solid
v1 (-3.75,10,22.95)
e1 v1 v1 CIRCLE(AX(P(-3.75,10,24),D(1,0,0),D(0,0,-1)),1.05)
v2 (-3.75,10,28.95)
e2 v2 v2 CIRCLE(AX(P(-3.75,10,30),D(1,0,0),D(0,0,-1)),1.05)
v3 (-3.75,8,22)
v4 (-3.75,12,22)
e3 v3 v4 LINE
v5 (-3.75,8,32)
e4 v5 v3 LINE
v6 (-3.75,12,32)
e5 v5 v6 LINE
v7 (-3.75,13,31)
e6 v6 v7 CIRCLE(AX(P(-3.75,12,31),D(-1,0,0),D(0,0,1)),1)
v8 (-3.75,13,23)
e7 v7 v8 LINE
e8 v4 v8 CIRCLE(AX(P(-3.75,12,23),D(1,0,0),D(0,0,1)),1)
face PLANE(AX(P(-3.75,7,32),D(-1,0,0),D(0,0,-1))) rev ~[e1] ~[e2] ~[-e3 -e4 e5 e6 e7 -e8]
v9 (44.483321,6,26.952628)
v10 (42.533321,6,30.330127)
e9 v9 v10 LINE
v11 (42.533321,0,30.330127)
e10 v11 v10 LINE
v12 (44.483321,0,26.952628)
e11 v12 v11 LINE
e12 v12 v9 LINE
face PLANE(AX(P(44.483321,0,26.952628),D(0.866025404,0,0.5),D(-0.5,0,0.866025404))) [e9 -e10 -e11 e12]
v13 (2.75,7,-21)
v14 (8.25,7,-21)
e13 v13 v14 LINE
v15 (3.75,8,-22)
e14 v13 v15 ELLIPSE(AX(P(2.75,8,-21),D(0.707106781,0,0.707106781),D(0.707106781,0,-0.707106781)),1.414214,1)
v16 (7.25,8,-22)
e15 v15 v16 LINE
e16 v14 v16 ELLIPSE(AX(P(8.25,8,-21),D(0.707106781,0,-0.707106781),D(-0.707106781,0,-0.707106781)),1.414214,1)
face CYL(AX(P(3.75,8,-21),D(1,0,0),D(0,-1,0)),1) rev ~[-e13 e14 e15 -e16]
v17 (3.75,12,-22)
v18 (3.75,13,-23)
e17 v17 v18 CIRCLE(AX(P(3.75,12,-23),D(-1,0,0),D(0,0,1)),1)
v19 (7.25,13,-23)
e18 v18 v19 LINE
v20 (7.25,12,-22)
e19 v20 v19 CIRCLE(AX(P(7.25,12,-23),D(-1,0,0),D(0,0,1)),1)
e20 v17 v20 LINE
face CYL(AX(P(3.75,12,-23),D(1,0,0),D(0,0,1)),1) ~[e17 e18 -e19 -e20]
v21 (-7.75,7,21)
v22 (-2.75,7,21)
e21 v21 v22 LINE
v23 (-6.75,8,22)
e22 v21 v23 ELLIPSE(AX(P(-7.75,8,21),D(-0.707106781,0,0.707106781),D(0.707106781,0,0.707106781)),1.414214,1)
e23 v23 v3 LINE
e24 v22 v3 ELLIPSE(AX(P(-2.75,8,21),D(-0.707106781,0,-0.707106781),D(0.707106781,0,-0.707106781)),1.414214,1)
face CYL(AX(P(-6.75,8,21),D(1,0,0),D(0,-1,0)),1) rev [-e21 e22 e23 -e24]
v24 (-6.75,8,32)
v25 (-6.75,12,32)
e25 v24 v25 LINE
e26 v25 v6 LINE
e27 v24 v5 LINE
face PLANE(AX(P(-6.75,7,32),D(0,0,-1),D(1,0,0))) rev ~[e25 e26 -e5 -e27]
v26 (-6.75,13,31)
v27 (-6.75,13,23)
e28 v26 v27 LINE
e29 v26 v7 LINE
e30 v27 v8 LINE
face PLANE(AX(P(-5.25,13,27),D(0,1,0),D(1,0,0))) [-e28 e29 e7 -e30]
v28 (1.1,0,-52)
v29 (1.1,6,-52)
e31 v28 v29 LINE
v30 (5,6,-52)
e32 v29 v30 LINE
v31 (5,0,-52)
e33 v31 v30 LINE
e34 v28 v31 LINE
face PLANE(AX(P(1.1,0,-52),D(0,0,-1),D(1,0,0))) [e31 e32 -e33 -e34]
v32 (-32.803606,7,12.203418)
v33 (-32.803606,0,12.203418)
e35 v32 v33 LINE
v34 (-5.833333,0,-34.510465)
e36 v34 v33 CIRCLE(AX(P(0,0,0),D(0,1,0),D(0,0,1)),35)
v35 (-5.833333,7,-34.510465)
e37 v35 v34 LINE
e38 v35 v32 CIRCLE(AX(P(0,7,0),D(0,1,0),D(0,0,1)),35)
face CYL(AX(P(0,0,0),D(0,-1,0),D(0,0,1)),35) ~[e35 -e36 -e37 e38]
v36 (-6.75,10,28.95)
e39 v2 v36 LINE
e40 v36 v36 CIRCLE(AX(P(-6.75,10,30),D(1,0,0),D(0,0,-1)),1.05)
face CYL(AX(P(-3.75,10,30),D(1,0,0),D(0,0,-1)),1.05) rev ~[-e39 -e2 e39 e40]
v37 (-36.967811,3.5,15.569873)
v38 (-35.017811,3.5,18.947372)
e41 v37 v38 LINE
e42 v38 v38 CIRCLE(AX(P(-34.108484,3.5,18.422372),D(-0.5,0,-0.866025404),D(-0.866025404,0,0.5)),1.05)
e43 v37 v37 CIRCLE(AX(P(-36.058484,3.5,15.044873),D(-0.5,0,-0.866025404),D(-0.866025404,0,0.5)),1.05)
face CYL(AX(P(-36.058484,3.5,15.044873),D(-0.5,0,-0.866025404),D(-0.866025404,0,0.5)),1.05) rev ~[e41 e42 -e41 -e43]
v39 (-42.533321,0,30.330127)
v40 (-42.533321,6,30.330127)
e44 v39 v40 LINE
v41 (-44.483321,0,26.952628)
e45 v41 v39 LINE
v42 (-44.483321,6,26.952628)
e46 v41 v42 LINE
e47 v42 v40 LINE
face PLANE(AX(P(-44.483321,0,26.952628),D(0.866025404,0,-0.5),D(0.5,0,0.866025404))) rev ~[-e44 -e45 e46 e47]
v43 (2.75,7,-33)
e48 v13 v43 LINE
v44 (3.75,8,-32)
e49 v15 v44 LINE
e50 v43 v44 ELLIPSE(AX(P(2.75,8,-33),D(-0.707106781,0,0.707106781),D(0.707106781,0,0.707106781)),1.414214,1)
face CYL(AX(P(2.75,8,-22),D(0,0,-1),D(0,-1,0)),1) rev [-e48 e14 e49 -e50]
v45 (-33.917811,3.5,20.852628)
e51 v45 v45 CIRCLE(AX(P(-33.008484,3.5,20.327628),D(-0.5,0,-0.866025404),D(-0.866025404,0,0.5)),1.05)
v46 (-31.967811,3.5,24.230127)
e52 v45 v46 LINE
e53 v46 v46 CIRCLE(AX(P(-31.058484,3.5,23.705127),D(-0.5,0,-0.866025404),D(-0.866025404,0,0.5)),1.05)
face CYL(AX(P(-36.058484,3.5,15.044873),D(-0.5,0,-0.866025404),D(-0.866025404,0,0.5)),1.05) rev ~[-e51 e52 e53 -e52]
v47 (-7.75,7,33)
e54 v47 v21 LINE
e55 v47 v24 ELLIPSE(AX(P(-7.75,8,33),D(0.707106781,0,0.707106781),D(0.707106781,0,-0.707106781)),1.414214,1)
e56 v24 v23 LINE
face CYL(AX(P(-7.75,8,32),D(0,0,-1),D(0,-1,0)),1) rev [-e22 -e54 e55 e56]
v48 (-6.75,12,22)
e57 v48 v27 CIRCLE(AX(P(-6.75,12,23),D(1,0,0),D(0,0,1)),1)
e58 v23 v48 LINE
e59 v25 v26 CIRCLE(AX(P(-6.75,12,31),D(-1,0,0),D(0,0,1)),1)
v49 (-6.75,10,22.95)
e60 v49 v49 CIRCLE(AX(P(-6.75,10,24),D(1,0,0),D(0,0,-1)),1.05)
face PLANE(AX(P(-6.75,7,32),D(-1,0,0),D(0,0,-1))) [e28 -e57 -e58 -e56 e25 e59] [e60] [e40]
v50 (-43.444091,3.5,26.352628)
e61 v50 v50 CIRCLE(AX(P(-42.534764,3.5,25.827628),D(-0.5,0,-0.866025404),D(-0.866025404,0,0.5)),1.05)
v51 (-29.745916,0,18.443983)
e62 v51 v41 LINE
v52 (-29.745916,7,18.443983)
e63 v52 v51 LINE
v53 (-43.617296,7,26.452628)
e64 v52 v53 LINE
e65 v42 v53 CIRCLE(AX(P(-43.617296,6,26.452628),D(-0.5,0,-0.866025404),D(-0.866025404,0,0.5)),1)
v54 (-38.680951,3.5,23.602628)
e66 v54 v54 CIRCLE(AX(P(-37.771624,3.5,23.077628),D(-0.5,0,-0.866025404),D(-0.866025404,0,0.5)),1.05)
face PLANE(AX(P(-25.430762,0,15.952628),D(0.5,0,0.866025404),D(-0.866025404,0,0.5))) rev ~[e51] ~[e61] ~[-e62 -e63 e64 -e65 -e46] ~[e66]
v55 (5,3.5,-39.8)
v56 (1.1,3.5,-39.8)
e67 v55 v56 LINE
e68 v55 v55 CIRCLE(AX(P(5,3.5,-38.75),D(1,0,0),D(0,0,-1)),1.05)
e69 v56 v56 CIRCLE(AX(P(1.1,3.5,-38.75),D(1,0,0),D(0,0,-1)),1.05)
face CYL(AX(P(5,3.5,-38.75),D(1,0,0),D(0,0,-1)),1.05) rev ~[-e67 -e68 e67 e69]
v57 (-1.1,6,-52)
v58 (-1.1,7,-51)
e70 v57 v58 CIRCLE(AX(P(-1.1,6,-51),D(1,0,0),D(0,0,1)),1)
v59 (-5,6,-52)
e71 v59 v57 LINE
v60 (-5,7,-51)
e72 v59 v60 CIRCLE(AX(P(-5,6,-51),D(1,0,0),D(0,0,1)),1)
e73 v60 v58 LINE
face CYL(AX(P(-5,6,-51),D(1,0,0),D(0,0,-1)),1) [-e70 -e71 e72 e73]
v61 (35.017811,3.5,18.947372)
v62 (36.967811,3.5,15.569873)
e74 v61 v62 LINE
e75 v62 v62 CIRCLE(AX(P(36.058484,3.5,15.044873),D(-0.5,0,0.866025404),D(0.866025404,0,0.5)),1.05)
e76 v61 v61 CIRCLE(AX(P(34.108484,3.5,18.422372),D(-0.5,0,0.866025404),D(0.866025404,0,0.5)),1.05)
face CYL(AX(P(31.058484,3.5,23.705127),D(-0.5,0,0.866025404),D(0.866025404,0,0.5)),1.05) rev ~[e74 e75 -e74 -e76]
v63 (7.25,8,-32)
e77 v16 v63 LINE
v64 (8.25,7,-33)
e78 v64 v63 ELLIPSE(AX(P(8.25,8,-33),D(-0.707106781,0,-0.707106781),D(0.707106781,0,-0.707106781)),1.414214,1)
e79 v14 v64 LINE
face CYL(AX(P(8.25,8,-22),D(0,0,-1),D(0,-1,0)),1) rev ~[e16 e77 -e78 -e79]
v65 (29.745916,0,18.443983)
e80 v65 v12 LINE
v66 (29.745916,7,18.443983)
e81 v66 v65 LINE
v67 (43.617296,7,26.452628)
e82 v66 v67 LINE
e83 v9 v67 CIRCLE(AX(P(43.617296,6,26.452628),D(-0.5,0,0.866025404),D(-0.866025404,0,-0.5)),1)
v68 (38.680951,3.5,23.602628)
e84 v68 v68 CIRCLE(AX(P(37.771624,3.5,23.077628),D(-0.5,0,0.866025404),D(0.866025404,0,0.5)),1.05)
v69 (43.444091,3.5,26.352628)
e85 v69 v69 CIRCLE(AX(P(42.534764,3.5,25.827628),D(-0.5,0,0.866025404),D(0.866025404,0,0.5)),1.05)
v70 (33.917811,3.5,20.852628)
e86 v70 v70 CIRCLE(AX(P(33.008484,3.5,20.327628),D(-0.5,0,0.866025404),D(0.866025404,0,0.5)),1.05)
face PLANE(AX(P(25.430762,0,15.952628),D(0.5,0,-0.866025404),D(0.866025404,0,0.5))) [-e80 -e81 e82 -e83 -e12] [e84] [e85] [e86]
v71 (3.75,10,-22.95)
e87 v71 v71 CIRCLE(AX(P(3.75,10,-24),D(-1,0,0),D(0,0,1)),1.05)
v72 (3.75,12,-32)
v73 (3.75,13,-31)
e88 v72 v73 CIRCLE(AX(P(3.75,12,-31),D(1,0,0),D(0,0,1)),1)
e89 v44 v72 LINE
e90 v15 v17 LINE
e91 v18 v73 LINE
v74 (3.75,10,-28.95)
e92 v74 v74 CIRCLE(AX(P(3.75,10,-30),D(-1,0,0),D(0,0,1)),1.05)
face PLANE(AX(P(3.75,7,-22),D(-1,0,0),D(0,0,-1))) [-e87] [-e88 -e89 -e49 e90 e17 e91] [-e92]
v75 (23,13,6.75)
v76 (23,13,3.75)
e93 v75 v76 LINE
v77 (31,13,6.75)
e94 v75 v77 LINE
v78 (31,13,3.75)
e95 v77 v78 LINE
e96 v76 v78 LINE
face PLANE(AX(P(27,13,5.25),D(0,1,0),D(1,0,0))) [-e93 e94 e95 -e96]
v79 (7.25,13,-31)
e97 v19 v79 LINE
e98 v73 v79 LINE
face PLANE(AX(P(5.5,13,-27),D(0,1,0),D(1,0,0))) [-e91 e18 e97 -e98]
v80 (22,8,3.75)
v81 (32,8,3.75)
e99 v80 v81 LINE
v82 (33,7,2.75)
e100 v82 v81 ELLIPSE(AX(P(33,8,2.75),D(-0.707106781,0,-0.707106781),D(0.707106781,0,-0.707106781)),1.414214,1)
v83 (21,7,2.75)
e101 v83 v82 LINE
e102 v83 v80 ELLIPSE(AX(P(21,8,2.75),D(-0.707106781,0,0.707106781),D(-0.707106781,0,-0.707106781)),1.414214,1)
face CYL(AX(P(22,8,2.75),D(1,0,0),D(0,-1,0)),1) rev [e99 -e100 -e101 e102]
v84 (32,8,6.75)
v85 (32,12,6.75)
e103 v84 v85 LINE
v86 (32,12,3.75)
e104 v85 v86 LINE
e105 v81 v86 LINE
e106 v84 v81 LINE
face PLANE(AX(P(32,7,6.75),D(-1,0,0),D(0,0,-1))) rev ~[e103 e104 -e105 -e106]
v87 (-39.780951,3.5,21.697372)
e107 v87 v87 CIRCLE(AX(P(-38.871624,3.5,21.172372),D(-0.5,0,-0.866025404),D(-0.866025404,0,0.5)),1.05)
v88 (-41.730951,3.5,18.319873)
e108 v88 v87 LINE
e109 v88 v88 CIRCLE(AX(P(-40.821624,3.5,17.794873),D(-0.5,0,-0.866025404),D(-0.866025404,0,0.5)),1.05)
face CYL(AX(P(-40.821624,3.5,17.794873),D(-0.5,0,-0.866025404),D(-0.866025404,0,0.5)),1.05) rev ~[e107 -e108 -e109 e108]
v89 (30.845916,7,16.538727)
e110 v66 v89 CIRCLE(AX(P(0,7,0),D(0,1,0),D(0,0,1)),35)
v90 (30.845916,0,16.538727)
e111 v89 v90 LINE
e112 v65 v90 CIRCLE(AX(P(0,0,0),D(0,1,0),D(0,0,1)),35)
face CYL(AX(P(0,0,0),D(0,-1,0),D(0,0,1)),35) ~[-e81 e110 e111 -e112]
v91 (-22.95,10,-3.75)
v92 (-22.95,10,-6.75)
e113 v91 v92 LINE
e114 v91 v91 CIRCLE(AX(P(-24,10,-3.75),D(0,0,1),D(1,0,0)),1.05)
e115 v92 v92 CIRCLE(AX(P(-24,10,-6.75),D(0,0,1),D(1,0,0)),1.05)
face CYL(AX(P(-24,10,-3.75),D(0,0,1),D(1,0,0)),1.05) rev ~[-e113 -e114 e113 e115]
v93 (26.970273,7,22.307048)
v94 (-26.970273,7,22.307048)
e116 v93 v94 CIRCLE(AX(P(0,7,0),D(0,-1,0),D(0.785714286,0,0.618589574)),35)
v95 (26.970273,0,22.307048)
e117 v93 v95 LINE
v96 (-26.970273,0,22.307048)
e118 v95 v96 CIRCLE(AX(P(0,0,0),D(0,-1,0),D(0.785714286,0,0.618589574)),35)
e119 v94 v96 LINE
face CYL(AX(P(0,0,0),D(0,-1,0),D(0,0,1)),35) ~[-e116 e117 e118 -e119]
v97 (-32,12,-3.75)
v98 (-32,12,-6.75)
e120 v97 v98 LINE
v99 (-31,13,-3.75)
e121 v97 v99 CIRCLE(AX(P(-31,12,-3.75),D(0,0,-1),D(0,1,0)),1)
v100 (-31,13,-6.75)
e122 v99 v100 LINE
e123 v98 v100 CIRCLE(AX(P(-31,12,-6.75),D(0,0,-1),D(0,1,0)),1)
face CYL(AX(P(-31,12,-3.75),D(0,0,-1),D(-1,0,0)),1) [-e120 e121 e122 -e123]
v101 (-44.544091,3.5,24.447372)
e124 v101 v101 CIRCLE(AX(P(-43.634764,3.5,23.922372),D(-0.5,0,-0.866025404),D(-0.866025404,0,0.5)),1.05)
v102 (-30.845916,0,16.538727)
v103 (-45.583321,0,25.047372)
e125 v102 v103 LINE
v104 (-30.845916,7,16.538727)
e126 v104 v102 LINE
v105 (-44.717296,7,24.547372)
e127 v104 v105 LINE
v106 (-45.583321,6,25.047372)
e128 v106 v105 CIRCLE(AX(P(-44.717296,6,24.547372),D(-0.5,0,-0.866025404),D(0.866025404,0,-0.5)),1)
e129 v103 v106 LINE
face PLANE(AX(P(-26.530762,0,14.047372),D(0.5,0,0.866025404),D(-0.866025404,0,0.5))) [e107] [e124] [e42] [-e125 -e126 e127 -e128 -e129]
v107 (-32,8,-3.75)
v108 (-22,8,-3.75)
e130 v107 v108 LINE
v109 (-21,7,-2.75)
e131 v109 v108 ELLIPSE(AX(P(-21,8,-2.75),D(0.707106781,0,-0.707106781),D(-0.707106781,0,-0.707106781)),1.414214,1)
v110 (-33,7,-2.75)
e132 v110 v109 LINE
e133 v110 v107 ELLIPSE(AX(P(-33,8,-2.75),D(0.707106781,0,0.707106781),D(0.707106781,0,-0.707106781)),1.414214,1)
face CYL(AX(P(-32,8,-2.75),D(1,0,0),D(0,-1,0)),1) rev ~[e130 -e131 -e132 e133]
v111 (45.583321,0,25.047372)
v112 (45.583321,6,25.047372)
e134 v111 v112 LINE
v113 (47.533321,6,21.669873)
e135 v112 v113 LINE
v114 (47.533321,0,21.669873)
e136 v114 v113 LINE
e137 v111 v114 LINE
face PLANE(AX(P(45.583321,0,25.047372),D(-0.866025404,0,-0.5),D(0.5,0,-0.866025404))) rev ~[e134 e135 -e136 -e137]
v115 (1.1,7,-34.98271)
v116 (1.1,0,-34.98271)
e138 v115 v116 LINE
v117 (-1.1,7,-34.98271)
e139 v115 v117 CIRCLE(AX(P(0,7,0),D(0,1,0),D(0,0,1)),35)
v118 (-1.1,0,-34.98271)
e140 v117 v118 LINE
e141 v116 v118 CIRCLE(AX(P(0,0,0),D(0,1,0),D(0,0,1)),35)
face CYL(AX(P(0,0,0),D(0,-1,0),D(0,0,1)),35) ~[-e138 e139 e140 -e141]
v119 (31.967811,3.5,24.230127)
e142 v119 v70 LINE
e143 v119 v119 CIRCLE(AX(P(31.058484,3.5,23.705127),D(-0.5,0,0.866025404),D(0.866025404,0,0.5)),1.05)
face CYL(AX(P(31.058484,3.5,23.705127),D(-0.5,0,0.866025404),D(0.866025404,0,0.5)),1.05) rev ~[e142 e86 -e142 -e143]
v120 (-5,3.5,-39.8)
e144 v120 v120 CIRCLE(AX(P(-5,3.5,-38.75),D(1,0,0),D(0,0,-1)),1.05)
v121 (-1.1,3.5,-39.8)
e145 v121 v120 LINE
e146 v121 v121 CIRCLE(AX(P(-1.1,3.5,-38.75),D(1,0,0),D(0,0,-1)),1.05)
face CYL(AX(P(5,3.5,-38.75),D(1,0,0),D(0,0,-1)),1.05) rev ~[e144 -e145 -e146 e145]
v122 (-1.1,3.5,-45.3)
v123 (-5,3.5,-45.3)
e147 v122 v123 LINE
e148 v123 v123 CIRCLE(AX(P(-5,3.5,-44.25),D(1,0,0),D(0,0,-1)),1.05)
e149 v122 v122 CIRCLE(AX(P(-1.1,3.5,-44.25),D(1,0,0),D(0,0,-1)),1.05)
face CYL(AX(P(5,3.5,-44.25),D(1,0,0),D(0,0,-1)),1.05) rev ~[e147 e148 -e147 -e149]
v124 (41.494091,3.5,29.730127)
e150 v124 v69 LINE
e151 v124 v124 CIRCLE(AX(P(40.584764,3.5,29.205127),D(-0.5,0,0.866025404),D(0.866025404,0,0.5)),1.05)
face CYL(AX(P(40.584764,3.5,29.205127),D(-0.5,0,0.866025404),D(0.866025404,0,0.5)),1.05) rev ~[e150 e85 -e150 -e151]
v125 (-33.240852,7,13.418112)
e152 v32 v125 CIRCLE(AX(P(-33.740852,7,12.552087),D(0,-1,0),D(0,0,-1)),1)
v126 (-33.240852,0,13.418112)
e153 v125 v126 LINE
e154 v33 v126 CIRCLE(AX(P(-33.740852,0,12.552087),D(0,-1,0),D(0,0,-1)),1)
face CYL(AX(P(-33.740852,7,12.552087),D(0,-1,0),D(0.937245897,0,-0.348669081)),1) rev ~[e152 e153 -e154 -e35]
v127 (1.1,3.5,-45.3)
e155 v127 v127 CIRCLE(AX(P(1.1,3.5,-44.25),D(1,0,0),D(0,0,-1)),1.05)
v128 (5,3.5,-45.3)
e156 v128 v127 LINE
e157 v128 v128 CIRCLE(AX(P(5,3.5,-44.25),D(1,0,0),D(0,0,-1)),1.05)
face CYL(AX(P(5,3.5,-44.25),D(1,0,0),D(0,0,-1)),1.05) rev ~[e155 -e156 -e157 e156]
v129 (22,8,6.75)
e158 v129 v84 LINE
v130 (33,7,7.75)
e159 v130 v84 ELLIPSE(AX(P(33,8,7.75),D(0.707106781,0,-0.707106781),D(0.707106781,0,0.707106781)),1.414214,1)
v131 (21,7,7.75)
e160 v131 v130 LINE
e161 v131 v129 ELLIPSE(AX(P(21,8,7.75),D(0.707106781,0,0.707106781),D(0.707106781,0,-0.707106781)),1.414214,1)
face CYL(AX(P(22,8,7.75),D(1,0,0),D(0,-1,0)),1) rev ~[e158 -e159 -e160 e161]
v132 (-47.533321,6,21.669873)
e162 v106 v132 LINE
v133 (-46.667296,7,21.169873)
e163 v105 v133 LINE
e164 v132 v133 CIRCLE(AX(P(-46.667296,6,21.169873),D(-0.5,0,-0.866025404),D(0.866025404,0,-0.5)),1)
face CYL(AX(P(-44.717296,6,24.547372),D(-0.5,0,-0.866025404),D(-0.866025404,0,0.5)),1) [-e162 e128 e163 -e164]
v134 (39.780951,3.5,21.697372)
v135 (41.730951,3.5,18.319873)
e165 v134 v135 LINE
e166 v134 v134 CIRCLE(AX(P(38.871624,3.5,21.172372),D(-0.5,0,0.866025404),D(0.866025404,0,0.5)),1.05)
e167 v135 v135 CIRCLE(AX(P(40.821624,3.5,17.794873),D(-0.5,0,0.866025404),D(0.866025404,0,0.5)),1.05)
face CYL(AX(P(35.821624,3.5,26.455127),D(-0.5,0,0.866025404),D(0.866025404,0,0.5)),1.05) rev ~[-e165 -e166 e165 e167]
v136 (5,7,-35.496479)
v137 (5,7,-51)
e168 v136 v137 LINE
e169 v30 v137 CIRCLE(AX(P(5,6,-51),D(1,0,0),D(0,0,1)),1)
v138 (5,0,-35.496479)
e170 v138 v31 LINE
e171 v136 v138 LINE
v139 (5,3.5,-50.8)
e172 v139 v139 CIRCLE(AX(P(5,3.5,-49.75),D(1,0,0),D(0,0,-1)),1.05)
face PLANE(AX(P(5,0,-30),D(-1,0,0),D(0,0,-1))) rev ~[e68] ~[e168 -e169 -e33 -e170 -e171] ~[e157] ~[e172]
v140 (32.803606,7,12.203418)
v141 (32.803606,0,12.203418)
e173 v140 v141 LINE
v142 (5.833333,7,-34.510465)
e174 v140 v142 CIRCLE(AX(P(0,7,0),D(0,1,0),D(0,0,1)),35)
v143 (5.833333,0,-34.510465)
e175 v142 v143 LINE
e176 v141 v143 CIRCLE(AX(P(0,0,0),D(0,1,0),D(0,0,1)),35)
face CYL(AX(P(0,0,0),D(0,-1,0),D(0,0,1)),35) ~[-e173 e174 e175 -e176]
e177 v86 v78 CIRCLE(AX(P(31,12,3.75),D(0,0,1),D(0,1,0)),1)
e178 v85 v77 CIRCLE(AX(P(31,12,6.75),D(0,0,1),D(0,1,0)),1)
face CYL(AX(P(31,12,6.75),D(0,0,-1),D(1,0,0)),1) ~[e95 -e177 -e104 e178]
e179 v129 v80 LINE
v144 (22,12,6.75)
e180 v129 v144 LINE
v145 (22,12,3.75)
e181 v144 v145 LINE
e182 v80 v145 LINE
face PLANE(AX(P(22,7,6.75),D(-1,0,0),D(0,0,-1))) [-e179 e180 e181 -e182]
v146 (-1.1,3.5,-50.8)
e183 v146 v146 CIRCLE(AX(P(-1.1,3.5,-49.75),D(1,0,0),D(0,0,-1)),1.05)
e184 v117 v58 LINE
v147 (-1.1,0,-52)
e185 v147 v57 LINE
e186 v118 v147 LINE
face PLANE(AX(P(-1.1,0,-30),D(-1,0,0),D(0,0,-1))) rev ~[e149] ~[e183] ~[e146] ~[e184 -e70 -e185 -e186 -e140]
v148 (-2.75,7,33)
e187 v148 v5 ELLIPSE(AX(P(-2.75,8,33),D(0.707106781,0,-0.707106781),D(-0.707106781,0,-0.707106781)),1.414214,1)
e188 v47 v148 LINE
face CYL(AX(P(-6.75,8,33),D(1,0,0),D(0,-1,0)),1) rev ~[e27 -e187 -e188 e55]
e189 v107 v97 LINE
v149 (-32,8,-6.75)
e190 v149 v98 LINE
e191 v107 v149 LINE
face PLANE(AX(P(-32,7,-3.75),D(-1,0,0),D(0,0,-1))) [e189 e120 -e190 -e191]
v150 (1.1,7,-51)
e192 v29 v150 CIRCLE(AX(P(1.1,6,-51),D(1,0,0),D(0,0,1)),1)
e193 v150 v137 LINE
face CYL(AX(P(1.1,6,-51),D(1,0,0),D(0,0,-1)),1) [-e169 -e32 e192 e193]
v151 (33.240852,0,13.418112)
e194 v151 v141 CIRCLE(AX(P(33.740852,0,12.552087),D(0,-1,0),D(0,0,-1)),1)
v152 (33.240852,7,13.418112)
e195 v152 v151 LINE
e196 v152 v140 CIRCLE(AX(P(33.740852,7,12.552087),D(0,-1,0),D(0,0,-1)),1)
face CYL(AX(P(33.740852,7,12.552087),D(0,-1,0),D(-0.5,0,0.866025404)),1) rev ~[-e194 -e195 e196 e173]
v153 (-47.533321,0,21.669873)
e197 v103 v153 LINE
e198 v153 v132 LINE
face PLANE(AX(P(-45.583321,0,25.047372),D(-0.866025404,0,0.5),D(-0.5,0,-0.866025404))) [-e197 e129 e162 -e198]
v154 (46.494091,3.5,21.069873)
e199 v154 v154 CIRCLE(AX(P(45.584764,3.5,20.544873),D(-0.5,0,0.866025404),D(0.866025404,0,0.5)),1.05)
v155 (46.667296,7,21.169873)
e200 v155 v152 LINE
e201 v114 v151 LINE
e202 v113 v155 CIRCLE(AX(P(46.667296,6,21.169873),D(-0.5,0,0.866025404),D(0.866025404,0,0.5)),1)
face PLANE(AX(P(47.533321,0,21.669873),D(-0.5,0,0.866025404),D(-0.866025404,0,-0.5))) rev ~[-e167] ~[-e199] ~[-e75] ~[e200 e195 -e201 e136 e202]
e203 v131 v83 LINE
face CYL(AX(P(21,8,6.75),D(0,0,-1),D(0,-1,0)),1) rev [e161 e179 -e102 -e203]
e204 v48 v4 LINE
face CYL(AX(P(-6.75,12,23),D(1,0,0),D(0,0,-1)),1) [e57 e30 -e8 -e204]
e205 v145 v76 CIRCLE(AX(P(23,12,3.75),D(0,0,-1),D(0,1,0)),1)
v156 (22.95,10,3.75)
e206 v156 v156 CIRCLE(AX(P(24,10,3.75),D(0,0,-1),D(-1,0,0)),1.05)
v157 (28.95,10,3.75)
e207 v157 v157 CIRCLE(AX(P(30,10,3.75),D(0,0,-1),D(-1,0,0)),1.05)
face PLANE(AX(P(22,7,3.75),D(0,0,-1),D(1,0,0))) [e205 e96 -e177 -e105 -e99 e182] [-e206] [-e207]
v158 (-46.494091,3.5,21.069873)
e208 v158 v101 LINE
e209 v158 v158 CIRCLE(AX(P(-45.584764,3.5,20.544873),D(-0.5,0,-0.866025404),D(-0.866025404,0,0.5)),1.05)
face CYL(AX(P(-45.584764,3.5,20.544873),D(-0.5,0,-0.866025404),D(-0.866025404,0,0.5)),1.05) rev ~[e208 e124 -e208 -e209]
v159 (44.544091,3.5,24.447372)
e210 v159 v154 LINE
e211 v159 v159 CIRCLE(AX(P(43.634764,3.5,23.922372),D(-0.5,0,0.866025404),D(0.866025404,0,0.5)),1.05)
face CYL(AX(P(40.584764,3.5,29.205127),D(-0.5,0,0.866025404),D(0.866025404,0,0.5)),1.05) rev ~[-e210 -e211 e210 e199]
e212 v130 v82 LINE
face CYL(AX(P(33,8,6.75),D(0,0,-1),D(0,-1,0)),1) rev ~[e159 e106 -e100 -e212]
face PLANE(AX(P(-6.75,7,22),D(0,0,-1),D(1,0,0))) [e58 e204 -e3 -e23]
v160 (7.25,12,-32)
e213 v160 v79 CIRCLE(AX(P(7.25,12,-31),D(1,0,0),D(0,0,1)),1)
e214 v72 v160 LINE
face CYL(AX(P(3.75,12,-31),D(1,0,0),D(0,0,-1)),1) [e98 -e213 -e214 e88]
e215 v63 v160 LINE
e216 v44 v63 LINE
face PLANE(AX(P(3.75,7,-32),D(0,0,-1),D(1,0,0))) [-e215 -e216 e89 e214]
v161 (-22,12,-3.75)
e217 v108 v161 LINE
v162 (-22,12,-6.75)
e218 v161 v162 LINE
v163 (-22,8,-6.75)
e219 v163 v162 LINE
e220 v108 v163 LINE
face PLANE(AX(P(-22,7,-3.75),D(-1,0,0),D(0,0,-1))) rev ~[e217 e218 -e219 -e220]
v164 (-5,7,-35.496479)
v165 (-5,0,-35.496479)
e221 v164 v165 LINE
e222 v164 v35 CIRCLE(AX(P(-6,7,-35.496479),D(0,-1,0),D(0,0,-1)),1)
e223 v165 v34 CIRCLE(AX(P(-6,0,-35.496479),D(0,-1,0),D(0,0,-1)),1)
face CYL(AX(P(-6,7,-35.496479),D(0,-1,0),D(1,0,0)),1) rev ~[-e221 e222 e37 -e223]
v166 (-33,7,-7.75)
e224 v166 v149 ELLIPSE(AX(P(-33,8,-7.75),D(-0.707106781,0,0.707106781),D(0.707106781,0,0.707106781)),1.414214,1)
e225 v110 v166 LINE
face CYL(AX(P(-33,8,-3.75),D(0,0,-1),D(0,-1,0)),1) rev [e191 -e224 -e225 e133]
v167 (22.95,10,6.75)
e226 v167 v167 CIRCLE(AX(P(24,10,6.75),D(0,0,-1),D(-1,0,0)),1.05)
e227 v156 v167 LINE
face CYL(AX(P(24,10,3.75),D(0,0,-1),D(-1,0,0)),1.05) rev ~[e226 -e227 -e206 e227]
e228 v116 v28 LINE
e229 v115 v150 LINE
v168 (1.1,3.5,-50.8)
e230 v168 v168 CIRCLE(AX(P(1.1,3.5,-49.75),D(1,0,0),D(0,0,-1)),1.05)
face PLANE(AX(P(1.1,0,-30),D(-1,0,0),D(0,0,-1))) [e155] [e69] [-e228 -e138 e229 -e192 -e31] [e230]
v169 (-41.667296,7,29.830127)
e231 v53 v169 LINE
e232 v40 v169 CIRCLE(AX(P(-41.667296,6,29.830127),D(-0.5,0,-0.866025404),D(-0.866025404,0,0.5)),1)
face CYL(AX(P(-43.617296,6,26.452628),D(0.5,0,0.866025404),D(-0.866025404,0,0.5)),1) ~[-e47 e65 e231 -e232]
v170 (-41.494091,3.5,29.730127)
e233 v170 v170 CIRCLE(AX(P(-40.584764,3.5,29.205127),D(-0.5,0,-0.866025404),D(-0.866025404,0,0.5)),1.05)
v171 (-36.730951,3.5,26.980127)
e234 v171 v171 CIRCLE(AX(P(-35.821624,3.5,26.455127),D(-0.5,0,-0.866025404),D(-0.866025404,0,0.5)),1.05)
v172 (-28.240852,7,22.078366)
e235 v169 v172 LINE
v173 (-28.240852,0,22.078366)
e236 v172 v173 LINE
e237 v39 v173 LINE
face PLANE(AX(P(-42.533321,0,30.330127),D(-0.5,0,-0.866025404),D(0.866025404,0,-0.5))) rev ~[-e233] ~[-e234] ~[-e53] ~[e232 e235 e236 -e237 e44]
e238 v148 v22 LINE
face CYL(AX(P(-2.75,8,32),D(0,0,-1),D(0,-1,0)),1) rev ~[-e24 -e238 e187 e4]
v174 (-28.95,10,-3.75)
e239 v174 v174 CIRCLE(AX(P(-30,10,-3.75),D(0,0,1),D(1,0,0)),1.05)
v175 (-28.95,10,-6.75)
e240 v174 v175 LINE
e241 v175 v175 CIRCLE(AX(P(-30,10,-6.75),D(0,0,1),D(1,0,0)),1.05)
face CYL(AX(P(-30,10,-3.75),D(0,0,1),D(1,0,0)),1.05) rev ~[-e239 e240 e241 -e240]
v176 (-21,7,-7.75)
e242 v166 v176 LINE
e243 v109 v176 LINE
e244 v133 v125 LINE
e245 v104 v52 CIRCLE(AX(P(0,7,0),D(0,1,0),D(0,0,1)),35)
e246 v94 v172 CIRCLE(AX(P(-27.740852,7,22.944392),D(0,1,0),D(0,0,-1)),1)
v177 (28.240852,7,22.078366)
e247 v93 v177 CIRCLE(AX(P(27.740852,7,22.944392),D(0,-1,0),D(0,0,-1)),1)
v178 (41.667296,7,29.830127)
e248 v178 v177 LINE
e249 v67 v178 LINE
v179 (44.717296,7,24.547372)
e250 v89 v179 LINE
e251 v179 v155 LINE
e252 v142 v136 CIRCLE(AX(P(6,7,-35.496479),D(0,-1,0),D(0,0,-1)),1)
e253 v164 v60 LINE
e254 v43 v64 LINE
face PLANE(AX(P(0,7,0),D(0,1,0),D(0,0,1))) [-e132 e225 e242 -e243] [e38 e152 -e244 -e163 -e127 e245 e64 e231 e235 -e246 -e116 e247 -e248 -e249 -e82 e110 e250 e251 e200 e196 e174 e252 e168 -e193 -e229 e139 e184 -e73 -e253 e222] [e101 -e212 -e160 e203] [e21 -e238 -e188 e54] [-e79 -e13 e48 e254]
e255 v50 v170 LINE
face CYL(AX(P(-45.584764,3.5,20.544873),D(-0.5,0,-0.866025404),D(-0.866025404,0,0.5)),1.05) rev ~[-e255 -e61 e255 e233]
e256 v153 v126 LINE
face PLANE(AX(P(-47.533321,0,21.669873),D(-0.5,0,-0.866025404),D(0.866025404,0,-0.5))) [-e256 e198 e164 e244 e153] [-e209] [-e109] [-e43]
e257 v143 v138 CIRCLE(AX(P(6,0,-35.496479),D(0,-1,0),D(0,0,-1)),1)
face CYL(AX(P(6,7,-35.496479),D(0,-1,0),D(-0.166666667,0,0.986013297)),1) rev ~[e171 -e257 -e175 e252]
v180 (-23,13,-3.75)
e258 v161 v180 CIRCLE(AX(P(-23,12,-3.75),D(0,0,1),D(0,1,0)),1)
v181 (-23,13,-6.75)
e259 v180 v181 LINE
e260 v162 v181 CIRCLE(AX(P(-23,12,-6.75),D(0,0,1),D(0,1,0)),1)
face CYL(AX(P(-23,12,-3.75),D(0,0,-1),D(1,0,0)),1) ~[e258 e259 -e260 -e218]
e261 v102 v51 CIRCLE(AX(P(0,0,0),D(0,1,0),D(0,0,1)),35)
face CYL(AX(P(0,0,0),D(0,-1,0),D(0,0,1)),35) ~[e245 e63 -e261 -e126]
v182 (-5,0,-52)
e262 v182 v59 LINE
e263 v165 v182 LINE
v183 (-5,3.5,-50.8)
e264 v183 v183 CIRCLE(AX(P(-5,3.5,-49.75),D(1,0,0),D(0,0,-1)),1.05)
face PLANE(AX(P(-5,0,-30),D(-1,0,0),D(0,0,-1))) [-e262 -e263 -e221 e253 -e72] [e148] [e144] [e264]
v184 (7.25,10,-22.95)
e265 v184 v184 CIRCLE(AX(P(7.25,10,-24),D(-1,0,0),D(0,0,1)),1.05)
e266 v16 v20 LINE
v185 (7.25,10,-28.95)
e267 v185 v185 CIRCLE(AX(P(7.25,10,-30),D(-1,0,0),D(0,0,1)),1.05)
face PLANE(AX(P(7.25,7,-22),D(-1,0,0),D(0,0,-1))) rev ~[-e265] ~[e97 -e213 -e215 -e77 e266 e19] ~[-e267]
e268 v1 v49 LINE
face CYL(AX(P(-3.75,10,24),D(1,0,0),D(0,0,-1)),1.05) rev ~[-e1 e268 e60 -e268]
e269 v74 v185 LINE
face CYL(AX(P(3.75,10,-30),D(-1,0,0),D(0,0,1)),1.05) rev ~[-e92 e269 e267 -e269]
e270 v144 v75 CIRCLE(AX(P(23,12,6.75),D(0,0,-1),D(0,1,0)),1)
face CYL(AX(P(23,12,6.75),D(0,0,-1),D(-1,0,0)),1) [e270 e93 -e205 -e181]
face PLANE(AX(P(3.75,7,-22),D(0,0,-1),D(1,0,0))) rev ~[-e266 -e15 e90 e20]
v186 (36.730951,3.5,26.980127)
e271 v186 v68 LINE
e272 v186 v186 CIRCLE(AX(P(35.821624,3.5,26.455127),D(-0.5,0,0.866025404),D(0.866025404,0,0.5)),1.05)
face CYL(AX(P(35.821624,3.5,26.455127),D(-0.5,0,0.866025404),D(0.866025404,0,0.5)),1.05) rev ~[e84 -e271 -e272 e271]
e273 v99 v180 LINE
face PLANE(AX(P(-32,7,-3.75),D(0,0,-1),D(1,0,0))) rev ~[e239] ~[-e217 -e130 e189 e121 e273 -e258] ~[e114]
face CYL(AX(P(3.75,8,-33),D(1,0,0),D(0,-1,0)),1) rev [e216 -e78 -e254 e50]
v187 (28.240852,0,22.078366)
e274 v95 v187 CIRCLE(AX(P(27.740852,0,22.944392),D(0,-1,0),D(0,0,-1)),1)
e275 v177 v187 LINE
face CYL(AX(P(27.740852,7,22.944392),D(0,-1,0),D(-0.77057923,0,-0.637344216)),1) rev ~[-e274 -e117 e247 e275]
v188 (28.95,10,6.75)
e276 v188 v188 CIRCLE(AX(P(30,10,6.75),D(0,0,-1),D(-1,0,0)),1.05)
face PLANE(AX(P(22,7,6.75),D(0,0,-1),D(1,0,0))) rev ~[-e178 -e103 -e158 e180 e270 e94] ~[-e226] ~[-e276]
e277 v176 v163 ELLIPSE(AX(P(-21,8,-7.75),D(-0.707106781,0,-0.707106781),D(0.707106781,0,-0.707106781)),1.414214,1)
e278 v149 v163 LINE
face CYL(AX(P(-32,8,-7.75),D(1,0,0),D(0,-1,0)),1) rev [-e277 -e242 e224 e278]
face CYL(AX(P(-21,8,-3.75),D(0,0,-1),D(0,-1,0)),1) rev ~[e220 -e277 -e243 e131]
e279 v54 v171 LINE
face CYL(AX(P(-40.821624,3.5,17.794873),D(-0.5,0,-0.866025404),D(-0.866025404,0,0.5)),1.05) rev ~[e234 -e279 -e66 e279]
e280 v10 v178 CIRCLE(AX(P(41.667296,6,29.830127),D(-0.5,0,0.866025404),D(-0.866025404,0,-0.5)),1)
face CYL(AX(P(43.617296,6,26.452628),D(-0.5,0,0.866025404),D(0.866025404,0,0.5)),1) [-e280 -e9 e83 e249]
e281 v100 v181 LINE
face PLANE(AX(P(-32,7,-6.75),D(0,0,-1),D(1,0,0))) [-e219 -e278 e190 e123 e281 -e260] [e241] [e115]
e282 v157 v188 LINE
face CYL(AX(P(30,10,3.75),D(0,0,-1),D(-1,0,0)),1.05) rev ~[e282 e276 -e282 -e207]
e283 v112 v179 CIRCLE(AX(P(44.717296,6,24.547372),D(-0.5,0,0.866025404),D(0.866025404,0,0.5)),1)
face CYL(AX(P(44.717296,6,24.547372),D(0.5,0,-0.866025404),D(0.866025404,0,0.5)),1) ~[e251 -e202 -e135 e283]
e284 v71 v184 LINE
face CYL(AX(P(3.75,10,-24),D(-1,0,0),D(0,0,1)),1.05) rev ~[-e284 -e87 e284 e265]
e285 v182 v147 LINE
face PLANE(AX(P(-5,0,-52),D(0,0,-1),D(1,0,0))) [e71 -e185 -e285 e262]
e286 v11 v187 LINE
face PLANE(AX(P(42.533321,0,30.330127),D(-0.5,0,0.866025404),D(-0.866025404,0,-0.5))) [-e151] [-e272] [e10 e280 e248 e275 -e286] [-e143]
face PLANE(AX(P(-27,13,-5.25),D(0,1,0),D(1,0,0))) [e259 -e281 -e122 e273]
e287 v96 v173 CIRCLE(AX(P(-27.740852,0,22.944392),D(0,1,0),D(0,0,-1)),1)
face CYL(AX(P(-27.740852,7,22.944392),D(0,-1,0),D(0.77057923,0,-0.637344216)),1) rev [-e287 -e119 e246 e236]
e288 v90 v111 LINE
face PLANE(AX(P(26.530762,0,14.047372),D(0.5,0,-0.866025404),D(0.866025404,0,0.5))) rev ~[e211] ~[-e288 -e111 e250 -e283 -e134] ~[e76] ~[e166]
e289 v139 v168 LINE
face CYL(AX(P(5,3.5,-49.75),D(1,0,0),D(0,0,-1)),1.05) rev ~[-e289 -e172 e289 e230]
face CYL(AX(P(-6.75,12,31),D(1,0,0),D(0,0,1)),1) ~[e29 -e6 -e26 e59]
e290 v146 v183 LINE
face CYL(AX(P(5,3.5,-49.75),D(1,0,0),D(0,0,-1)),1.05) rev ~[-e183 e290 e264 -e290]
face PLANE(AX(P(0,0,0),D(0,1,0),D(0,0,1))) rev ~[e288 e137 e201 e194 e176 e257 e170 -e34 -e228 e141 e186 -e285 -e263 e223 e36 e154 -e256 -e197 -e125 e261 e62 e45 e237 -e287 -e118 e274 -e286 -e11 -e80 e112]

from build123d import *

# Parameters (mm, degrees)
SKETCH1_R           = 35
BOSS_EXTRUDE1_DEPTH = 7
SKETCH2_W           = 3.5
SKETCH2_H           = 10
SKETCH2_W_2         = 10
SKETCH2_H_2         = 3
SKETCH2_W_3         = 3
BOSS_EXTRUDE2_DEPTH = 6
SKETCH3_W           = 3.9
SKETCH3_H           = 22
BOSS_EXTRUDE3_DEPTH = 7
SKETCH4_R           = 1.05
CUT_EXTRUDE1_DEPTH  = 10
CIRPATTERN1_COUNT   = 3
SKETCH5_R           = 1.05
CUT_EXTRUDE2_DEPTH  = 75.18206665
CIRPATTERN2_COUNT   = 4
FILLET1_R           = 1


with BuildPart() as part:
    # Sketch1 → Boss-Extrude1 (new body)
    with BuildSketch(Plane(origin=(0, 0, 0), x_dir=(1, 0, 0), z_dir=(0, 1, 0))):
        with Locations(Location((0, 0, 0), (0, 0, 270))):
            Circle(SKETCH1_R)
    extrude(amount=BOSS_EXTRUDE1_DEPTH)

    # Sketch2 → Boss-Extrude2 (add)
    with BuildSketch(Plane(origin=(0, 7, 0), x_dir=(1, 0, 0), z_dir=(0, 1, 0))):
        with Locations((5.5, 27)):
            Rectangle(SKETCH2_W, SKETCH2_H)
        with Locations((-27, 5.25)):
            Rectangle(SKETCH2_W_2, SKETCH2_H_2)
        with Locations((-5.25, -27)):
            Rectangle(SKETCH2_W_3, SKETCH2_H)
        with Locations((27, -5.25)):
            Rectangle(SKETCH2_W_2, SKETCH2_H_2)
    extrude(amount=BOSS_EXTRUDE2_DEPTH)

    # Sketch3 → Boss-Extrude3 (add)
    with BuildSketch(Plane(origin=(0, 0, 0), x_dir=(1, 0, 0), z_dir=(0, 1, 0))):
        with Locations((3.05, 41)):
            Rectangle(SKETCH3_W, SKETCH3_H)
        with Locations((-3.05, 41)):
            Rectangle(SKETCH3_W, SKETCH3_H)
        Polygon((23.480762114, -19.330127019), (25.430762114, -15.952627944), (44.483320997, -26.952627944), (42.533320997, -30.330127019), align=None)
        Polygon((28.480762114, -10.669872981), (26.530762114, -14.047372056), (45.583320997, -25.047372056), (47.533320997, -21.669872981), align=None)
        Polygon((-28.480762114, -10.669872981), (-26.530762114, -14.047372056), (-45.583320997, -25.047372056), (-47.533320997, -21.669872981), align=None)
        Polygon((-23.480762114, -19.330127019), (-25.430762114, -15.952627944), (-44.483320997, -26.952627944), (-42.533320997, -30.330127019), align=None)
    extrude(amount=BOSS_EXTRUDE3_DEPTH)

    # Sketch4 → Cut-Extrude1 (cut)
    with BuildSketch(Plane(origin=(5, 0, 0), x_dir=(0, 0, -1), z_dir=(1, 0, 0))):
        with Locations((49.75, 3.5)):
            Circle(SKETCH4_R)
        with Locations((44.25, 3.5)):
            Circle(SKETCH4_R)
        with Locations((38.75, 3.5)):
            Circle(SKETCH4_R)
    cut_extrude1 = extrude(amount=-CUT_EXTRUDE1_DEPTH, mode=Mode.SUBTRACT)

    # CirPattern1: Cut-Extrude1 ×3 about axis
    cirpattern1_axis = Axis((0, 13.65, 0), (0, -1, 0))
    for i in range(1, CIRPATTERN1_COUNT):
        add(cut_extrude1.rotate(cirpattern1_axis, i * 360 / CIRPATTERN1_COUNT), mode=Mode.SUBTRACT)

    # Sketch5 → Cut-Extrude2 (cut, through all)
    with BuildSketch(Plane.ZY.offset(-3.75)):
        with Locations((-30, 10)):
            Circle(SKETCH5_R)
        with Locations((-24, 10)):
            Circle(SKETCH5_R)
    cut_extrude2 = extrude(amount=-CUT_EXTRUDE2_DEPTH, mode=Mode.SUBTRACT)

    # CirPattern2: Cut-Extrude2 ×4 about axis
    cirpattern2_axis = Axis((0, 13.65, 0), (0, -1, 0))
    for i in range(1, CIRPATTERN2_COUNT):
        add(cut_extrude2.rotate(cirpattern2_axis, i * 360 / CIRPATTERN2_COUNT), mode=Mode.SUBTRACT)

    # Fillet1
    fillet1_edges = [part.edges().sort_by_distance(p)[0] for p in [
        (5.5, 13, -22),
        (27.5, 3.5, 21.650635095),
        (43.508320997, 7, 28.641377482),
        (32.5, 3.5, 12.990381057),
        (46.558320997, 7, 23.358622518),
        (-32.5, 3.5, 12.990381057),
        (-46.558320997, 7, 23.358622518),
        (-27.5, 3.5, 21.650635095),
        (-43.508320997, 7, 28.641377482),
        (-3.75, 7, 27),
        (-5.25, 7, 22),
        (-6.75, 7, 27),
        (-5.25, 7, 32),
        (-5.25, 13, 22),
        (-5.25, 13, 32),
        (-22, 7, -5.25),
        (-27, 7, -6.75),
        (-32, 7, -5.25),
        (-27, 7, -3.75),
        (-22, 13, -5.25),
        (-32, 13, -5.25),
        (22, 7, 5.25),
        (27, 7, 6.75),
        (32, 7, 5.25),
        (27, 7, 3.75),
        (22, 13, 5.25),
        (32, 13, 5.25),
        (5, 3.5, -34.641016151),
        (3.05, 7, -52),
        (7.25, 7, -27),
        (5.5, 7, -32),
        (-5, 3.5, -34.641016151),
        (-3.05, 7, -52),
        (3.75, 7, -27),
        (5.5, 7, -22),
        (5.5, 13, -32),
    ]]
    fillet(fillet1_edges, radius=FILLET1_R)


solid = part.part
